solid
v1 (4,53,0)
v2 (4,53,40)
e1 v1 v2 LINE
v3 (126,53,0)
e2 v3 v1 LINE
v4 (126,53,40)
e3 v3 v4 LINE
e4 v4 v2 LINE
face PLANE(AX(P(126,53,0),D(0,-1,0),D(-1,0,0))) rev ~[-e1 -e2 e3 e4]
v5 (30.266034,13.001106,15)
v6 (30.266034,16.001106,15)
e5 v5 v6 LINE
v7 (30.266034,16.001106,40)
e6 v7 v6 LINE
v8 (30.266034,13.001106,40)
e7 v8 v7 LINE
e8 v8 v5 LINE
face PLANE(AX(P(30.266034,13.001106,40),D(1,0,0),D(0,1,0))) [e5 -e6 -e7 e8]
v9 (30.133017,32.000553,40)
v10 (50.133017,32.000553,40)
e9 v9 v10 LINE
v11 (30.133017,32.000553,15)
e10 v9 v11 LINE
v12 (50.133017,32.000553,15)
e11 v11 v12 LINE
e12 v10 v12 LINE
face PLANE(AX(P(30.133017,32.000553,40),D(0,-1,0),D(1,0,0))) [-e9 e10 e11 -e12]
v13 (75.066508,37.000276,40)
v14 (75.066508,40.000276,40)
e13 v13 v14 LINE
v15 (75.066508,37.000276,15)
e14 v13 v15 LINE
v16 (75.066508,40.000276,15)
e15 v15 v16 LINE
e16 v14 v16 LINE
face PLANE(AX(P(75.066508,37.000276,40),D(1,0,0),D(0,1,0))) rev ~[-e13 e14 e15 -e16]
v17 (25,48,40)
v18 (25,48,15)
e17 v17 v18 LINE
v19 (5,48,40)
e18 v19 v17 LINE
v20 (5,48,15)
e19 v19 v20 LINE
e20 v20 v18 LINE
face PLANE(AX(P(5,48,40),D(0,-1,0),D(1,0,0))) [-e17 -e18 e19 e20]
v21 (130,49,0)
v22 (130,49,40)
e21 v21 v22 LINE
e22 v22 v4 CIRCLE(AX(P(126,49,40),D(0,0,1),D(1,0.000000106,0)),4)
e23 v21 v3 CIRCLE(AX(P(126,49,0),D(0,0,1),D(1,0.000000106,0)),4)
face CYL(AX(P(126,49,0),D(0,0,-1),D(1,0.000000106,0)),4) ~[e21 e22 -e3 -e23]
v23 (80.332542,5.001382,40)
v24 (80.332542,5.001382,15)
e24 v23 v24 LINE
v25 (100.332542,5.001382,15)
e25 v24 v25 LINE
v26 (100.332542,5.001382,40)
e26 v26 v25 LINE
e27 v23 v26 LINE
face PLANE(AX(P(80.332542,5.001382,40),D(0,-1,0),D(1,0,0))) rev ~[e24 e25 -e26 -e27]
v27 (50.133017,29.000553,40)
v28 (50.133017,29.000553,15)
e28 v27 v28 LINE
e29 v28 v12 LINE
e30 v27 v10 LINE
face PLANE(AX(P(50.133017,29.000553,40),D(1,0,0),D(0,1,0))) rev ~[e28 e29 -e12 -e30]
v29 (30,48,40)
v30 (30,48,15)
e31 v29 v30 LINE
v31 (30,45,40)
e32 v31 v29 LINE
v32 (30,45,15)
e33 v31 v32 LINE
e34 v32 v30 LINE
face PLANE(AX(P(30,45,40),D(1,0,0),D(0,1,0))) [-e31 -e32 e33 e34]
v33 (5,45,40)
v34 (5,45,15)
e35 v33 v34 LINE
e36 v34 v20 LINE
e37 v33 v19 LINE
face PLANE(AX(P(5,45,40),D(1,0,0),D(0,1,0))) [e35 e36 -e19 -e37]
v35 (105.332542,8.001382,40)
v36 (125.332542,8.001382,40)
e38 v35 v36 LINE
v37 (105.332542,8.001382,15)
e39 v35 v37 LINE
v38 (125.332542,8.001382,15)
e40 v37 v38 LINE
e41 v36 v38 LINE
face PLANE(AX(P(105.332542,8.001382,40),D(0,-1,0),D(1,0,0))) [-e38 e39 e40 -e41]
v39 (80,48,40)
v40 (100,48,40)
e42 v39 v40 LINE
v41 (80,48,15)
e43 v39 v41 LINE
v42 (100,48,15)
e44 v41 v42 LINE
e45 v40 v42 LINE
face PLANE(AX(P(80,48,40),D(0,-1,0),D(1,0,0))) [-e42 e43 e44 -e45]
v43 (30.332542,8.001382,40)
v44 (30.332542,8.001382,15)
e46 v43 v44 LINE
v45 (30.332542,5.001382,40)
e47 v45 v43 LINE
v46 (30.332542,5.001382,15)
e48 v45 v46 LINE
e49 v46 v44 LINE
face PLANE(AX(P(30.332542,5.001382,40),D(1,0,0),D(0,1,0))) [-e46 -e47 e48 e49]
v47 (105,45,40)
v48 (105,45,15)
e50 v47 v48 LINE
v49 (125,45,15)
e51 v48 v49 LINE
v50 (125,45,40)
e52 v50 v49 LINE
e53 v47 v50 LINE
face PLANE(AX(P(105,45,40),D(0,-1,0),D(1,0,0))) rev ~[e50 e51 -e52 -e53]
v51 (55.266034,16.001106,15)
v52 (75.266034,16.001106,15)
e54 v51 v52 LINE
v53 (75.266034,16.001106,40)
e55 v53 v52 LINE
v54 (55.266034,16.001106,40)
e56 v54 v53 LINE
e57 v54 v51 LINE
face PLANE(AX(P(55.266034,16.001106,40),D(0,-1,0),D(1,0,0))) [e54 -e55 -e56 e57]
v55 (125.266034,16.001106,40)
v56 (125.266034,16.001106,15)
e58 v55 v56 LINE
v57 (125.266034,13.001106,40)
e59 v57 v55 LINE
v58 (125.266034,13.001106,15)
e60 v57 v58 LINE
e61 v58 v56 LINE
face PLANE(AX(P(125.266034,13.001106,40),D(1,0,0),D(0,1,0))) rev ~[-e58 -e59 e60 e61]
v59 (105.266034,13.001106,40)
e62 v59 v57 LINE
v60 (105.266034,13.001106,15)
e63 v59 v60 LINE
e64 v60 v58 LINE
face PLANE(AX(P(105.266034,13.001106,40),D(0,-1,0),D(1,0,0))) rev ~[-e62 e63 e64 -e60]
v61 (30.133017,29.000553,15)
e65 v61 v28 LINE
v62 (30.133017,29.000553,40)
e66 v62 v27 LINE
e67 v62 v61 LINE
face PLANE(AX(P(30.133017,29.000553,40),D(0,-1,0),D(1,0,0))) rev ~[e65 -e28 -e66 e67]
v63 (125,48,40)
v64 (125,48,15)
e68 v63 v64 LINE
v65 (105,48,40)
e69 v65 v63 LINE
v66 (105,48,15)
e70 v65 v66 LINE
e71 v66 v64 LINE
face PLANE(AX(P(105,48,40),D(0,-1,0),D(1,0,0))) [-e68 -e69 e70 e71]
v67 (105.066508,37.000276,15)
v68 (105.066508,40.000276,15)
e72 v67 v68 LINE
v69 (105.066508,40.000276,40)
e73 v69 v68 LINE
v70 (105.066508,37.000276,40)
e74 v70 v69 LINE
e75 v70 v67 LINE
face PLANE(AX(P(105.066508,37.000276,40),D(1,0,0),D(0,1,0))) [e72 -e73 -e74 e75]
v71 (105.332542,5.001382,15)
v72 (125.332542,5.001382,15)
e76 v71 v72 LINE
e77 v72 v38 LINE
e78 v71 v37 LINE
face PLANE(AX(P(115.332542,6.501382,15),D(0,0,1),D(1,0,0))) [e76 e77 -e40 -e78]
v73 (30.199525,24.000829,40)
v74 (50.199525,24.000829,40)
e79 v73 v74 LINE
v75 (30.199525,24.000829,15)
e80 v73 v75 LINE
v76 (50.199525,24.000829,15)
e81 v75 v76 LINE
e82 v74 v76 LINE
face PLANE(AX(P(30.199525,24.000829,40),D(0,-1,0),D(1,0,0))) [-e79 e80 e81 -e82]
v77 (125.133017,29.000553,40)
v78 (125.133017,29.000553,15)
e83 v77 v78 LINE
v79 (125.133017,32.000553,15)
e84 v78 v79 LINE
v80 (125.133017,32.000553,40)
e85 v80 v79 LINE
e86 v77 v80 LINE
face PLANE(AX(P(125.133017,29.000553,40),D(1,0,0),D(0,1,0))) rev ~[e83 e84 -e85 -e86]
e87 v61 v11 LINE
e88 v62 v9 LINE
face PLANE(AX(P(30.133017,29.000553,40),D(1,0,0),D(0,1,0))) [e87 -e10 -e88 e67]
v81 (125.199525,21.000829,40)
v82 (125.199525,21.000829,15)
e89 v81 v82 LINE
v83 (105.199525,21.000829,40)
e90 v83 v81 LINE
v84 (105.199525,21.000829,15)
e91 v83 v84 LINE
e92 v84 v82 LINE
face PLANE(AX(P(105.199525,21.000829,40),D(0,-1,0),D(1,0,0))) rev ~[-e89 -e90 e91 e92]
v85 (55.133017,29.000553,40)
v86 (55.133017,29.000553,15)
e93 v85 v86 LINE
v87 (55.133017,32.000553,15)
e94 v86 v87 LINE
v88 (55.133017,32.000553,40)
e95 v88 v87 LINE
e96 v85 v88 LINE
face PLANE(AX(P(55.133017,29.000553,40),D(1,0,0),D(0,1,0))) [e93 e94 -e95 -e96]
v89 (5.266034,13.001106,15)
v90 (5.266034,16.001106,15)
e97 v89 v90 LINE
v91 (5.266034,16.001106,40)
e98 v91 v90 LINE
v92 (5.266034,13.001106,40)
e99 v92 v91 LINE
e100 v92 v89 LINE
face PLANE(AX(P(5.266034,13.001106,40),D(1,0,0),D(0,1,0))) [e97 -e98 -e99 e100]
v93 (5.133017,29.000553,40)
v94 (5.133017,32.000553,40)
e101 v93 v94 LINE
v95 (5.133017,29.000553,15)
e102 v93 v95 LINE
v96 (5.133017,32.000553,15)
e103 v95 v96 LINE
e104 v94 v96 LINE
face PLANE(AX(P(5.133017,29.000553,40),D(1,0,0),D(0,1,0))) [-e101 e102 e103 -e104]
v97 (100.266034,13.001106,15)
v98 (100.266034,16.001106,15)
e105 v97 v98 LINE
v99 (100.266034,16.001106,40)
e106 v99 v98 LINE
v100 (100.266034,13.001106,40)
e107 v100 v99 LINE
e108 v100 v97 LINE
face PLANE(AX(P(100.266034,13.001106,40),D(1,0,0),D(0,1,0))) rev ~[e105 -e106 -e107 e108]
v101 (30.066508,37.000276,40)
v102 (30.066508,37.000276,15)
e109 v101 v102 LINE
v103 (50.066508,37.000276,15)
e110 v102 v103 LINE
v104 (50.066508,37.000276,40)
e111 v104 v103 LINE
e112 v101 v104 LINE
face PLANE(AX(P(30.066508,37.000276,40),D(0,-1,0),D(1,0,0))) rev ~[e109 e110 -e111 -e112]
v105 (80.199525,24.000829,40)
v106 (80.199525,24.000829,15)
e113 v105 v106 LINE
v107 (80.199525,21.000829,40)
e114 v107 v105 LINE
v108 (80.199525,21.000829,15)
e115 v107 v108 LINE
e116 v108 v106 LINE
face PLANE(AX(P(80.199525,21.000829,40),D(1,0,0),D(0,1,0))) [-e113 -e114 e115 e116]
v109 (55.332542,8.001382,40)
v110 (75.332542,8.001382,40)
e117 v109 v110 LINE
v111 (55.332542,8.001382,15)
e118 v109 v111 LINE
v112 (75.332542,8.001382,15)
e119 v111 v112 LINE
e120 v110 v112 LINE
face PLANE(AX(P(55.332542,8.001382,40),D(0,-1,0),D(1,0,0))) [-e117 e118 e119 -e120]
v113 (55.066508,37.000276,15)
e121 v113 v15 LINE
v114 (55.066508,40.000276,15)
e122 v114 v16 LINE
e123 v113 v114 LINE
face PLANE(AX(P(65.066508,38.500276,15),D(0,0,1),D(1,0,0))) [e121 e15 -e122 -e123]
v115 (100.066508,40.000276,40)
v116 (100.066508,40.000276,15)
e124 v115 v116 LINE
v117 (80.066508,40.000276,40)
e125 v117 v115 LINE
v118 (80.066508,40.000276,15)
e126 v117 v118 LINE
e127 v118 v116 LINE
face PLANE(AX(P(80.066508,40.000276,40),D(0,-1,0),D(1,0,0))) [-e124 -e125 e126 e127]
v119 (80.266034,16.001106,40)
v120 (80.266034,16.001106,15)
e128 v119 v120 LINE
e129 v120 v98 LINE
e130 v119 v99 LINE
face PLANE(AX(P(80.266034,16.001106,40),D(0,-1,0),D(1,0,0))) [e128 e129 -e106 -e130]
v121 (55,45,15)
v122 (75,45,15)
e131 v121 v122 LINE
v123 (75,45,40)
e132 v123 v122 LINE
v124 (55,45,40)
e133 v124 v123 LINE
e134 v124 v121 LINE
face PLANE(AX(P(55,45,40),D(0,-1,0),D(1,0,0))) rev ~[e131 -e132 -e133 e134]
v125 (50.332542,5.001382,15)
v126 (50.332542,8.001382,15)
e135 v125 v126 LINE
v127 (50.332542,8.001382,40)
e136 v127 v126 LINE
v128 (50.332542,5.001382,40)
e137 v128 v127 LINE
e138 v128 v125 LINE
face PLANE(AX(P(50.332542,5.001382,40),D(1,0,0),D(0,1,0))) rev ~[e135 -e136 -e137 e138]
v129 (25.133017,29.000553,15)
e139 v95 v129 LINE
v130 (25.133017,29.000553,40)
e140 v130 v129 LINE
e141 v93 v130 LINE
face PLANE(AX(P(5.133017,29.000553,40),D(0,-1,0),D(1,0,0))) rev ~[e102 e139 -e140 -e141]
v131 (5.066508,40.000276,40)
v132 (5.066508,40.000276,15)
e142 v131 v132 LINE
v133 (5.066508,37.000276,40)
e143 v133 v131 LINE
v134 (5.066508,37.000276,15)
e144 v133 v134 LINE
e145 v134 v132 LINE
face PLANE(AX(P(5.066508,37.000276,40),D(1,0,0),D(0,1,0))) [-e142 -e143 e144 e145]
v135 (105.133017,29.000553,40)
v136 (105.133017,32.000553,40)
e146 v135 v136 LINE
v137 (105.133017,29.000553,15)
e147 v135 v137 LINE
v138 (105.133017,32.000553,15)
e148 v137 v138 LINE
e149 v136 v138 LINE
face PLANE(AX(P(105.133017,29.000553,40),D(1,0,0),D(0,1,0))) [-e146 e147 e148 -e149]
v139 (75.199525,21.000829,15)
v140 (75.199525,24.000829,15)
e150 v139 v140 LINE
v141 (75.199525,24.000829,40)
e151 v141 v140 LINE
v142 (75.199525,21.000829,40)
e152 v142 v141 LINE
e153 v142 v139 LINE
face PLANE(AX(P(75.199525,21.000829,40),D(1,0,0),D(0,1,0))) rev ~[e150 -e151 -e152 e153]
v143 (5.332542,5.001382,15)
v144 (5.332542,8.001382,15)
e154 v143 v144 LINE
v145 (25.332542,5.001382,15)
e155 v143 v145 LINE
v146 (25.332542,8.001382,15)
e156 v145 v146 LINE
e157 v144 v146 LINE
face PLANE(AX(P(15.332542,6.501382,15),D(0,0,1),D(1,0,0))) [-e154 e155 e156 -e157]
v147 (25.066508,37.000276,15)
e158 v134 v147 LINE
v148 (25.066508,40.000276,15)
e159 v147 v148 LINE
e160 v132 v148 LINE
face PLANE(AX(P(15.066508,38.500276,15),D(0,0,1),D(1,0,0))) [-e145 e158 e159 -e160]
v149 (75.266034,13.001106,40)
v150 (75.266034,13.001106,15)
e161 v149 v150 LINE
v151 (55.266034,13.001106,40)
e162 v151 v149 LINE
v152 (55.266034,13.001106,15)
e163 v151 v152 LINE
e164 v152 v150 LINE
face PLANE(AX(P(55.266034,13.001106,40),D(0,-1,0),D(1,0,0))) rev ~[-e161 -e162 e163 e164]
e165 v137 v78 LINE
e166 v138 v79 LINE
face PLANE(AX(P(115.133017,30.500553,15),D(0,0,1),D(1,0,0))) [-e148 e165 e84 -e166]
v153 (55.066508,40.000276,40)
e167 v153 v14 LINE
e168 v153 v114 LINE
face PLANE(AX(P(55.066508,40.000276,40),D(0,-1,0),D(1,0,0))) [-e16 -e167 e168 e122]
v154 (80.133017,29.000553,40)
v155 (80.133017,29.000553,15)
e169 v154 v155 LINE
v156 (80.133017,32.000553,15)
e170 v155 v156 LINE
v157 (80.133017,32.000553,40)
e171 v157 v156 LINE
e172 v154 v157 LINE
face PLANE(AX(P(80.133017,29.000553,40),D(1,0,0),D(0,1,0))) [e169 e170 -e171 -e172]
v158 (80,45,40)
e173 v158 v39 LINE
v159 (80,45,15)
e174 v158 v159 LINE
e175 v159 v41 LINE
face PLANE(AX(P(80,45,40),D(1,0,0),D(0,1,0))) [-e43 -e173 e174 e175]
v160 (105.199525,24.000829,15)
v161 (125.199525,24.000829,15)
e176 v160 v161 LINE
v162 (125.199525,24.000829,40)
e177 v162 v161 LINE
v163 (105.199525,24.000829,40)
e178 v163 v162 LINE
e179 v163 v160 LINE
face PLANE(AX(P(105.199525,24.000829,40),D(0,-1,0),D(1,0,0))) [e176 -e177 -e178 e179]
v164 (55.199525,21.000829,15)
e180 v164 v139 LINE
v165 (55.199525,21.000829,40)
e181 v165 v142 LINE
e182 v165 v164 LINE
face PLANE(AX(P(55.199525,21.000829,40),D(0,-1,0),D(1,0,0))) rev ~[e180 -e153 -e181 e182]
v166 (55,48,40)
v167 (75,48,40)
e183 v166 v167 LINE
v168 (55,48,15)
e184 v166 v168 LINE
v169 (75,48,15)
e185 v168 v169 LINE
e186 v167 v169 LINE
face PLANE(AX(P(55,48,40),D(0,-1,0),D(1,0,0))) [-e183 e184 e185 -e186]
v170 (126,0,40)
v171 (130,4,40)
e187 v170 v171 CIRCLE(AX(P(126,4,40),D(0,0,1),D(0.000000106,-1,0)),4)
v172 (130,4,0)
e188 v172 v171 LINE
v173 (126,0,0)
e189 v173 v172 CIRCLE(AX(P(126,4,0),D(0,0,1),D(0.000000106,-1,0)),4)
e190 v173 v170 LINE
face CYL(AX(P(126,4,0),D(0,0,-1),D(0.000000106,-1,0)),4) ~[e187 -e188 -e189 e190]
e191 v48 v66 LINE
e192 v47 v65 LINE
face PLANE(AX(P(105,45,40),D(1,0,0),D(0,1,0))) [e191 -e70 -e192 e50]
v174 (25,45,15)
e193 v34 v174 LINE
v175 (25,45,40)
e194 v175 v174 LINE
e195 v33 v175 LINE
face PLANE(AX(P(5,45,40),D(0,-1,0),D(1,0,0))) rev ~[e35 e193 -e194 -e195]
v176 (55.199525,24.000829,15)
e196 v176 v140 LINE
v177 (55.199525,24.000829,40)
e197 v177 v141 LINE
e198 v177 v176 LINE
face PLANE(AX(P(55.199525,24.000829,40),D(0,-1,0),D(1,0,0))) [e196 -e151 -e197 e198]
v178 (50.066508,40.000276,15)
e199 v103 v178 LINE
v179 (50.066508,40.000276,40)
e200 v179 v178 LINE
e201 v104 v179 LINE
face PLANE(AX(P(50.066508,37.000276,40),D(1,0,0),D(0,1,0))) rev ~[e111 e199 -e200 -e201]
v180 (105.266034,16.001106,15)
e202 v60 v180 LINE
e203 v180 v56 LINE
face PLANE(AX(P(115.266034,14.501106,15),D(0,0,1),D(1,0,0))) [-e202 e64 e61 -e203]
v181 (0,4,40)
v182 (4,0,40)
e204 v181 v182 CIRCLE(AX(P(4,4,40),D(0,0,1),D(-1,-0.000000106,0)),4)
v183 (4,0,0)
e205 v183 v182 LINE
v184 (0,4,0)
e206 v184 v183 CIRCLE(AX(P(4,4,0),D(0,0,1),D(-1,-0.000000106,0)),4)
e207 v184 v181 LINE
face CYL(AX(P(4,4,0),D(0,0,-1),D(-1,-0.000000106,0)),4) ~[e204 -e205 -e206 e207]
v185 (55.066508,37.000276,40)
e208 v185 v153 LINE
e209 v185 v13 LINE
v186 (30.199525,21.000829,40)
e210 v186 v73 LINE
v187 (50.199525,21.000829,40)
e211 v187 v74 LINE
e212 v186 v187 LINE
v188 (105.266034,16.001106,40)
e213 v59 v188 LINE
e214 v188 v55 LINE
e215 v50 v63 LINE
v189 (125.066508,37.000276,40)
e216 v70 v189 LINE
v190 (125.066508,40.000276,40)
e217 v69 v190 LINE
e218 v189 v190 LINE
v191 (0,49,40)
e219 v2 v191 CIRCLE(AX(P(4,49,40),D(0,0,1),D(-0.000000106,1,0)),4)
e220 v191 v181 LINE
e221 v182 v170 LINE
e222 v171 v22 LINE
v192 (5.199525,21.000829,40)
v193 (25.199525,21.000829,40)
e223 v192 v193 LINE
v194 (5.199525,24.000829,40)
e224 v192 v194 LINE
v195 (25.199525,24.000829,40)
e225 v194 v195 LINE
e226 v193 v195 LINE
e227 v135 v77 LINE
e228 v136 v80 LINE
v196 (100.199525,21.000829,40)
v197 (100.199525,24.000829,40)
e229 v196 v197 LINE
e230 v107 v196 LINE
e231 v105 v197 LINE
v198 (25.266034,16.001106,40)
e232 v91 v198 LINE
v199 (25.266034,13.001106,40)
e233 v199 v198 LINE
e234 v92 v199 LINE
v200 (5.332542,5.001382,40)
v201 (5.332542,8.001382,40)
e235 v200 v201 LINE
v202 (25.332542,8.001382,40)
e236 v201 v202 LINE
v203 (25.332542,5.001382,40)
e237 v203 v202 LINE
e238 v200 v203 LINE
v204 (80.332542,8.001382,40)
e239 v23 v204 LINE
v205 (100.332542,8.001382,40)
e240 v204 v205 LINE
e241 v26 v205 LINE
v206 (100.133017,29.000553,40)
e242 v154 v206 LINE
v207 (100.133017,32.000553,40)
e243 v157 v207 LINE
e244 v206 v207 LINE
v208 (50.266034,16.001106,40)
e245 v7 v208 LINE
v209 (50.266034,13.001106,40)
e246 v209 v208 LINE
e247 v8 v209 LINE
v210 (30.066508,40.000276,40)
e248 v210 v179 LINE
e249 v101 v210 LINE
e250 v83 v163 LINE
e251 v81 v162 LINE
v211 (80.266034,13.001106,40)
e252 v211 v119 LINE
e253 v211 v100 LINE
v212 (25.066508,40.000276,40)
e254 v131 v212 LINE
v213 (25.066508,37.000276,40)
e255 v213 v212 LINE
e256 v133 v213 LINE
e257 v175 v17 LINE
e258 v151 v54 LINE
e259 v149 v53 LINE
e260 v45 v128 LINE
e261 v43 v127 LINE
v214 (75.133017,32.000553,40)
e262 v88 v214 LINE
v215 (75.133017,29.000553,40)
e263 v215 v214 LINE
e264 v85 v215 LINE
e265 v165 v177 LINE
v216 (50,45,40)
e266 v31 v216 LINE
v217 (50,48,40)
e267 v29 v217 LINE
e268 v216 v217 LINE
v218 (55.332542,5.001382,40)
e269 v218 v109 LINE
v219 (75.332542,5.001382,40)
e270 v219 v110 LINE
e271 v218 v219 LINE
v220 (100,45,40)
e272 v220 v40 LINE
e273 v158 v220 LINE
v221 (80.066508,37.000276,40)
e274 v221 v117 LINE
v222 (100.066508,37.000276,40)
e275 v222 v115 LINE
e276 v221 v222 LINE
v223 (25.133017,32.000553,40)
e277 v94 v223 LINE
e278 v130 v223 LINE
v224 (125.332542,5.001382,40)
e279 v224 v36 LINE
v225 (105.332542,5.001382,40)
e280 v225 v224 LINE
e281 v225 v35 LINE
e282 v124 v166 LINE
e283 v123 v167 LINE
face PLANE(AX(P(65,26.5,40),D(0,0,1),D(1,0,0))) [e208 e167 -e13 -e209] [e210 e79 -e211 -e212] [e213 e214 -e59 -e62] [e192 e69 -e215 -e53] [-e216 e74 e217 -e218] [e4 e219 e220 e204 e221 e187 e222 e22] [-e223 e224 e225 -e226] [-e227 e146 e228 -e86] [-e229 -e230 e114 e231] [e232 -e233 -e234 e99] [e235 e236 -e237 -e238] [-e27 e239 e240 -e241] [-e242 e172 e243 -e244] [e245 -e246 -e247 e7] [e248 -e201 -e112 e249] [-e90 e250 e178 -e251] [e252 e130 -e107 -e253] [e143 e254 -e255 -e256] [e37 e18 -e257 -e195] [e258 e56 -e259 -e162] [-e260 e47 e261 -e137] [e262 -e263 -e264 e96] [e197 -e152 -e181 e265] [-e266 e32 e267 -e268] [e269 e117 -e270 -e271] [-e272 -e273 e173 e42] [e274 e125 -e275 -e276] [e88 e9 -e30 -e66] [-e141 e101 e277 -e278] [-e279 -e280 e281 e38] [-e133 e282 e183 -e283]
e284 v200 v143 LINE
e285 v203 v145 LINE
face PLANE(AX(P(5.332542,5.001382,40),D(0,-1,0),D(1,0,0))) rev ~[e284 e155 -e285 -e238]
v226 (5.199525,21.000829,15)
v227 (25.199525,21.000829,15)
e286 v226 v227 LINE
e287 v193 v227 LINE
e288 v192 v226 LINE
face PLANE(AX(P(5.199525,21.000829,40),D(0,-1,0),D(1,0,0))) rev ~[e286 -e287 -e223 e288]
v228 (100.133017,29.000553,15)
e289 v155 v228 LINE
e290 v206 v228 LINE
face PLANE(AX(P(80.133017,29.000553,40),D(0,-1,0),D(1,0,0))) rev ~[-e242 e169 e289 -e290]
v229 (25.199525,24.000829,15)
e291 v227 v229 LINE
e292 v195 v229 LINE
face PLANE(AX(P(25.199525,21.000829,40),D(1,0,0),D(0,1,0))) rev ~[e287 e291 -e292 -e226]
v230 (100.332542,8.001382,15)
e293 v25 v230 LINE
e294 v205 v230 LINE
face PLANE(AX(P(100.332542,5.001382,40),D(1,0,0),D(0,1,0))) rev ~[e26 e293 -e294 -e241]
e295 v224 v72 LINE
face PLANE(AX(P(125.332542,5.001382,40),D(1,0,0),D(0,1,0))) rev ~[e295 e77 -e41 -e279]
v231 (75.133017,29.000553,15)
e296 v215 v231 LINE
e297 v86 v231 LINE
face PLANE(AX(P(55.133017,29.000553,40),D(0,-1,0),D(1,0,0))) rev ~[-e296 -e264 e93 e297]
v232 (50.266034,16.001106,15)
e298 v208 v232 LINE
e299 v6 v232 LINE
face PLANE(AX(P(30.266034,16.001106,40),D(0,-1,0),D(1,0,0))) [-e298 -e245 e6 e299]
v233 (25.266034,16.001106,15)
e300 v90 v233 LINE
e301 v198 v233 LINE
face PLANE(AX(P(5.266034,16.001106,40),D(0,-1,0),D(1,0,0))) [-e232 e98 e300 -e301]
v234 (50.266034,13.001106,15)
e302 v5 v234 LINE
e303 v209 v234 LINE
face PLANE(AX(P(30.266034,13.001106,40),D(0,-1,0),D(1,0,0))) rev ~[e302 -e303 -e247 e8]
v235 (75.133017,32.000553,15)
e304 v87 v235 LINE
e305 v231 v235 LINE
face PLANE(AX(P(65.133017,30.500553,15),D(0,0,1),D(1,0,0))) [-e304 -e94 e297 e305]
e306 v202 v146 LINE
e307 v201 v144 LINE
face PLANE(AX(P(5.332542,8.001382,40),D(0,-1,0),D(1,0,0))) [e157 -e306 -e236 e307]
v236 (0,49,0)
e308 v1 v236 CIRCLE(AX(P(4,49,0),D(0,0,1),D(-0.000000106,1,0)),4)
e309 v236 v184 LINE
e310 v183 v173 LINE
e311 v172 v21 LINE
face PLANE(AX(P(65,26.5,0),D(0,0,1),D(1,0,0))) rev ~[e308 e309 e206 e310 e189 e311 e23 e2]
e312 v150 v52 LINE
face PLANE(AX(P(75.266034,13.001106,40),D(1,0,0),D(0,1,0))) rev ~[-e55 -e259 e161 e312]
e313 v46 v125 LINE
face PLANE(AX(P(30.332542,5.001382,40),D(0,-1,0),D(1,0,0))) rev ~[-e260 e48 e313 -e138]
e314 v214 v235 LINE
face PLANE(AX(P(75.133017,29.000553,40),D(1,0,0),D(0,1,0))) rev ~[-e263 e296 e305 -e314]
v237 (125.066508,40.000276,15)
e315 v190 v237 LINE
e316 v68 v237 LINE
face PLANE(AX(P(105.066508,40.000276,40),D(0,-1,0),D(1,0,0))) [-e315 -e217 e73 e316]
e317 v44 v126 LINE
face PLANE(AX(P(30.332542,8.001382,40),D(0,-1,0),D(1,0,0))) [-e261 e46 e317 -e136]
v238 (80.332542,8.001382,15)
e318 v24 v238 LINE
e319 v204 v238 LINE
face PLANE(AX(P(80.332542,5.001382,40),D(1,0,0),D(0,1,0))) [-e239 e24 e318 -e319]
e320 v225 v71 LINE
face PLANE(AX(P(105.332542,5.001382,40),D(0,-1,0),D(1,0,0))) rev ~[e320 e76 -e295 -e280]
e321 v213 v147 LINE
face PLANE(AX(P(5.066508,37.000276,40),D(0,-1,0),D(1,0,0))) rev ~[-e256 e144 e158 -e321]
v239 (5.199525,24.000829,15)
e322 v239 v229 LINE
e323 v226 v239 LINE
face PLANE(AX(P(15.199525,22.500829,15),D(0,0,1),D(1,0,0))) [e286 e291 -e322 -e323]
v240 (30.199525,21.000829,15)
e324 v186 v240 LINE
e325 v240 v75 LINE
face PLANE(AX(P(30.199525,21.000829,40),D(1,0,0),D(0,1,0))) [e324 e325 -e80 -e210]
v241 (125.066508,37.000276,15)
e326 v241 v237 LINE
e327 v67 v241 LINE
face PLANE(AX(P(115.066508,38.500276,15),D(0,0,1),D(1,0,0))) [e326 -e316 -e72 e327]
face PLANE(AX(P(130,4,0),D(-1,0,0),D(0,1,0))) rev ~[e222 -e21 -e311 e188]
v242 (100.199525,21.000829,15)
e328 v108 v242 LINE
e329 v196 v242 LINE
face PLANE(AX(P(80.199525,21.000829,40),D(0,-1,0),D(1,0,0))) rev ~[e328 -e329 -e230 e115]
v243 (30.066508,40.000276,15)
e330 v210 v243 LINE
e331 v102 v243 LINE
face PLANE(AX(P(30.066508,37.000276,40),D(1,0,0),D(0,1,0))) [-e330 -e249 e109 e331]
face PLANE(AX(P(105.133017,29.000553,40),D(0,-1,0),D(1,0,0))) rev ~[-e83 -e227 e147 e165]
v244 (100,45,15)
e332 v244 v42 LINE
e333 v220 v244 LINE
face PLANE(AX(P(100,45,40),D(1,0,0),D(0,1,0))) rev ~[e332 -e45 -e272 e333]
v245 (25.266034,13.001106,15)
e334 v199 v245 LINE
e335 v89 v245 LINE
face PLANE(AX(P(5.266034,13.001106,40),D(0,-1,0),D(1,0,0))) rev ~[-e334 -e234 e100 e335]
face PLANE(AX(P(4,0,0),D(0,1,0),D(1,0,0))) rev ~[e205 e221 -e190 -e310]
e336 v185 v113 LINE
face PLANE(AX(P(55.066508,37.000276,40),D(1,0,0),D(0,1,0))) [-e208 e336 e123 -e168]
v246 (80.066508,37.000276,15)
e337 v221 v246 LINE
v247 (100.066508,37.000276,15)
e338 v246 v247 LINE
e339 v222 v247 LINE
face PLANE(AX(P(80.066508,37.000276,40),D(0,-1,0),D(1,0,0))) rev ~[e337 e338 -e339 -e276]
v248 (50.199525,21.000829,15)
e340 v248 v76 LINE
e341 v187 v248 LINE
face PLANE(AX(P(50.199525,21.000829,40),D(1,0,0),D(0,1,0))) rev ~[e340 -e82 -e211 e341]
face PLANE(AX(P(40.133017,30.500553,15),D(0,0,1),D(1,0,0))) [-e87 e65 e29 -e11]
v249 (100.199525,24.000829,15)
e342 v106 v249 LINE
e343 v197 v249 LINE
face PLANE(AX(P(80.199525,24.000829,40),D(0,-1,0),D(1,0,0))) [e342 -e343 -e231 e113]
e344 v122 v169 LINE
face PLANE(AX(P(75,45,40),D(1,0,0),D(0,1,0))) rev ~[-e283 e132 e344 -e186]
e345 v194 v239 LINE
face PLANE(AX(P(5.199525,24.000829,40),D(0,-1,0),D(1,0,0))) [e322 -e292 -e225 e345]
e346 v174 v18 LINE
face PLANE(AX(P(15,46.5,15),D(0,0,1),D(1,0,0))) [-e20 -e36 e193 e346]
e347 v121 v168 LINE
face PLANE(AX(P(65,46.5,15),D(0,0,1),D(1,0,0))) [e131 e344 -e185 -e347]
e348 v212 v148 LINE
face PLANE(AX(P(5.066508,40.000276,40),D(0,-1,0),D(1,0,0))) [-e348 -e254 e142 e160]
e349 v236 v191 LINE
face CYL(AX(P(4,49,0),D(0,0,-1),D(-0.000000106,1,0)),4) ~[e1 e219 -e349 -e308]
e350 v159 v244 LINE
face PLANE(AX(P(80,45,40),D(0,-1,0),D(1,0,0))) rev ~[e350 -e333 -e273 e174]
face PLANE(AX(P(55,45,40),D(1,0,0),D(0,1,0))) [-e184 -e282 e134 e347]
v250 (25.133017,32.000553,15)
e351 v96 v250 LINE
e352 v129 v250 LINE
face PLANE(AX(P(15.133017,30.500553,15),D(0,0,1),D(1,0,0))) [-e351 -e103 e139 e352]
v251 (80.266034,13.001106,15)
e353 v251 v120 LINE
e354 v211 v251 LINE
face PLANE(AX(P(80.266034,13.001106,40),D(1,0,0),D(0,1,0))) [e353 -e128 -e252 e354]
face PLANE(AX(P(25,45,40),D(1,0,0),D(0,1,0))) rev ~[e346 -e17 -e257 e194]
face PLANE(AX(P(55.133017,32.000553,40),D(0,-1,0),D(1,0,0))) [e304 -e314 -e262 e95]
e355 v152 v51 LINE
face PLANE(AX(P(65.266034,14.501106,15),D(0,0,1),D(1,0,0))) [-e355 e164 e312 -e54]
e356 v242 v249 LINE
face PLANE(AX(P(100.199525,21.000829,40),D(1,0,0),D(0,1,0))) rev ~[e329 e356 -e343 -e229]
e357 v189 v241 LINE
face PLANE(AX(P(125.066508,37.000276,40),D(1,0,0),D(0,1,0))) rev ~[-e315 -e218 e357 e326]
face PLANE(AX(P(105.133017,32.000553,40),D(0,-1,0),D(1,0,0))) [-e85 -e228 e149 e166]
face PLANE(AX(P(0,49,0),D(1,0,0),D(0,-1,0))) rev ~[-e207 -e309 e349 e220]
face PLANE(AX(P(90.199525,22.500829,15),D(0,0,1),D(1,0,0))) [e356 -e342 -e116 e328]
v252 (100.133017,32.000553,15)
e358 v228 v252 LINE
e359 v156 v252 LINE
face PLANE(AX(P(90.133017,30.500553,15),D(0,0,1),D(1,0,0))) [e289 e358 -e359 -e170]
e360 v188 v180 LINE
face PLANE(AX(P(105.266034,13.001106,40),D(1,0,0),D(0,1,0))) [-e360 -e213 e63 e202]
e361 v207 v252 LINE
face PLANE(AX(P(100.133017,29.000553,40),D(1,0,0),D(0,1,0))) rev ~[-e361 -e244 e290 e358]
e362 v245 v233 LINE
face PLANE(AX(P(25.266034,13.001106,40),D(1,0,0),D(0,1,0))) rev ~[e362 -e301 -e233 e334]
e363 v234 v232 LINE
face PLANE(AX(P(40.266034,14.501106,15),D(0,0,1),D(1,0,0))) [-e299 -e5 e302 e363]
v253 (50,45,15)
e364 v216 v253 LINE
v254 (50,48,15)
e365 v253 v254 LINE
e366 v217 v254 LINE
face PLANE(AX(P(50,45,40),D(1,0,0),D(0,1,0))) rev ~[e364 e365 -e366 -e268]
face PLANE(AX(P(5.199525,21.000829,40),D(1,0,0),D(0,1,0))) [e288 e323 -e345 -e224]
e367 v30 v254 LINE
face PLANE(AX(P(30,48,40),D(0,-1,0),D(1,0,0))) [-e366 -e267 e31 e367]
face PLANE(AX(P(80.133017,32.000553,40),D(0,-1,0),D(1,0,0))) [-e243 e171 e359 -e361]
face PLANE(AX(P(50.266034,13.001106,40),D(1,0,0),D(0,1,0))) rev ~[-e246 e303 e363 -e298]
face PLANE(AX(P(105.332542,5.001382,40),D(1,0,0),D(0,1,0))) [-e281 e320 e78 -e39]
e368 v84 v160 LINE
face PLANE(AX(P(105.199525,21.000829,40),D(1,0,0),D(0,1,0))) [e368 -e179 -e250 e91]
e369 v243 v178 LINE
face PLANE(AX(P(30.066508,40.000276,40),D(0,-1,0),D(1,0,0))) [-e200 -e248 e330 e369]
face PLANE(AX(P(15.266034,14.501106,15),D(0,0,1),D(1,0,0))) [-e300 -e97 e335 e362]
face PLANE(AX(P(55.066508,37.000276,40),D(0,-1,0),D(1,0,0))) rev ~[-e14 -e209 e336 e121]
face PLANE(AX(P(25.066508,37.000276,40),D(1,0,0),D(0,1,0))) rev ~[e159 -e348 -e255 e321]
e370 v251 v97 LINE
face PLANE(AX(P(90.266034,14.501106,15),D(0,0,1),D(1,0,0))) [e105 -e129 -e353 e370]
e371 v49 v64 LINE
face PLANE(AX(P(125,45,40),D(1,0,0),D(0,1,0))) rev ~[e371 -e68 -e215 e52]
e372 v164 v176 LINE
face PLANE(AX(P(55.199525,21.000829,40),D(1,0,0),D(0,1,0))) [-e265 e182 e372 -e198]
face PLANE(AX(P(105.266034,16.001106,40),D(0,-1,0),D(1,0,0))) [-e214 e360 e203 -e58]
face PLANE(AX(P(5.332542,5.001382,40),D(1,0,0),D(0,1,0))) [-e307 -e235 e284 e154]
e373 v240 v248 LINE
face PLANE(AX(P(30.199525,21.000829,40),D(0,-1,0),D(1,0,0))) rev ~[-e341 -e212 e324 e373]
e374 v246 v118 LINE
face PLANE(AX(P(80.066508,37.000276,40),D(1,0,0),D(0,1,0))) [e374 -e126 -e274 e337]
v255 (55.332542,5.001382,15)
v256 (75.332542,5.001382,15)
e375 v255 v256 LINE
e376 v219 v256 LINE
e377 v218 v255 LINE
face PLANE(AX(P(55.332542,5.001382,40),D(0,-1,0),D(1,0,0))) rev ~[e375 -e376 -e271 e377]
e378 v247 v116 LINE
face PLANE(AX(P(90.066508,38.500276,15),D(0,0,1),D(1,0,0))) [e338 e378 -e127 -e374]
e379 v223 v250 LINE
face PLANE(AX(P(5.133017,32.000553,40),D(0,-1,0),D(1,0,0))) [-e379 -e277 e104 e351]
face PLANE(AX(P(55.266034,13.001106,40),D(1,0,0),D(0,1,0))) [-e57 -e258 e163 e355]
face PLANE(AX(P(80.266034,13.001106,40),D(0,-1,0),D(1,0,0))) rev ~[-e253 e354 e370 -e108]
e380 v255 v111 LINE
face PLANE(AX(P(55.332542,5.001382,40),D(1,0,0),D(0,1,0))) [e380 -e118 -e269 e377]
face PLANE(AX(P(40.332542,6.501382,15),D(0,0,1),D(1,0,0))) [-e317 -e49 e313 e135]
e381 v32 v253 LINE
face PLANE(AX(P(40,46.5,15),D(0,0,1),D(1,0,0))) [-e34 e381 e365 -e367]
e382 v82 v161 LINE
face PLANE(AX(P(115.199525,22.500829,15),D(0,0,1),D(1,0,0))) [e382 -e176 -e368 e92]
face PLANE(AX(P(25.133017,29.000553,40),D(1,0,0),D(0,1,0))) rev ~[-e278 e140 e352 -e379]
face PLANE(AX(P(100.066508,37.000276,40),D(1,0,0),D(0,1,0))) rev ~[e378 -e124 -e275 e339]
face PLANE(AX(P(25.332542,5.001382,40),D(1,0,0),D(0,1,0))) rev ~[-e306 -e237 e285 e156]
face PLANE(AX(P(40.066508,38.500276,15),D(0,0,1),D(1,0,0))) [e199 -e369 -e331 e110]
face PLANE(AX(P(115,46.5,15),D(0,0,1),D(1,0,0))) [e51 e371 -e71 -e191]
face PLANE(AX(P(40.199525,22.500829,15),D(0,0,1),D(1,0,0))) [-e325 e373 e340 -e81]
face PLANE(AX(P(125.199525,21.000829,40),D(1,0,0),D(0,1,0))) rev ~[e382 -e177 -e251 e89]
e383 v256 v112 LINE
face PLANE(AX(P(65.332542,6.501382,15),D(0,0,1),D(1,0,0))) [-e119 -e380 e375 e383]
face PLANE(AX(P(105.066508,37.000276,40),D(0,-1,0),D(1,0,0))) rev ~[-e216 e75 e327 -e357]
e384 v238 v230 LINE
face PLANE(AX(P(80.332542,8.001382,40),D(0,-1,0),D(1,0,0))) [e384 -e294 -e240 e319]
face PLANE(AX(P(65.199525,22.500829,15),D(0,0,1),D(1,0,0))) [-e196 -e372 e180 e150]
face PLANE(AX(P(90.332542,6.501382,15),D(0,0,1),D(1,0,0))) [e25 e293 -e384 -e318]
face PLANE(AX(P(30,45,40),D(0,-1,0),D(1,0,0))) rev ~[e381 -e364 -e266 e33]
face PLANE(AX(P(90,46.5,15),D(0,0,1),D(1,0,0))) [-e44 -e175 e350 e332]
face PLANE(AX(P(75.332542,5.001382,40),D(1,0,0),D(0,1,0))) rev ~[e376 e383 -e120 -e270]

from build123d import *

# Parameters (mm, degrees)
F1_DEPTH = 40
F2_W     = 20
F2_H     = 3
F3_DEPTH = 25


with BuildPart() as f1:
    # F0 (on Top) → F1 (new body)
    with BuildSketch(Plane.XY):
        with BuildLine():
            ThreePointArc((0, 4), (1.171573, 1.171573), (4, 0))
            Line((4, 0), (126, 0))
            ThreePointArc((126, 0), (128.828427, 1.171573), (130, 4))
            Line((130, 4), (130, 49))
            ThreePointArc((130, 49), (128.828427, 51.828427), (126, 53))
            Line((126, 53), (4, 53))
            ThreePointArc((4, 53), (1.171573, 51.828427), (0, 49))
            Line((0, 49), (0, 4))
        make_face()
    extrude(amount=F1_DEPTH)

    # F2 (on face) → F3 (cut)
    with BuildSketch(Plane.XY.offset(40)):
        with Locations((15, 46.5)):
            Rectangle(F2_W, F2_H)
        with Locations((15.066508, 38.500276)):
            Rectangle(F2_W, F2_H)
        with Locations((15.133017, 30.500553)):
            Rectangle(F2_W, F2_H)
        with Locations((15.199525, 22.500829)):
            Rectangle(F2_W, F2_H)
        with Locations((15.266034, 14.501106)):
            Rectangle(F2_W, F2_H)
        with Locations((15.332542, 6.501382)):
            Rectangle(F2_W, F2_H)
        with Locations((40, 46.5)):
            Rectangle(F2_W, F2_H)
        with Locations((40.066508, 38.500276)):
            Rectangle(F2_W, F2_H)
        with Locations((40.133017, 30.500553)):
            Rectangle(F2_W, F2_H)
        with Locations((40.199525, 22.500829)):
            Rectangle(F2_W, F2_H)
        with Locations((40.266034, 14.501106)):
            Rectangle(F2_W, F2_H)
        with Locations((40.332542, 6.501382)):
            Rectangle(F2_W, F2_H)
        with Locations((65, 46.5)):
            Rectangle(F2_W, F2_H)
        with Locations((65.066508, 38.500276)):
            Rectangle(F2_W, F2_H)
        with Locations((65.133017, 30.500553)):
            Rectangle(F2_W, F2_H)
        with Locations((65.199525, 22.500829)):
            Rectangle(F2_W, F2_H)
        with Locations((65.266034, 14.501106)):
            Rectangle(F2_W, F2_H)
        with Locations((65.332542, 6.501382)):
            Rectangle(F2_W, F2_H)
        with Locations((90, 46.5)):
            Rectangle(F2_W, F2_H)
        with Locations((90.066508, 38.500276)):
            Rectangle(F2_W, F2_H)
        with Locations((90.133017, 30.500553)):
            Rectangle(F2_W, F2_H)
        with Locations((90.199525, 22.500829)):
            Rectangle(F2_W, F2_H)
        with Locations((90.266034, 14.501106)):
            Rectangle(F2_W, F2_H)
        with Locations((90.332542, 6.501382)):
            Rectangle(F2_W, F2_H)
        with Locations((115, 46.5)):
            Rectangle(F2_W, F2_H)
        with Locations((115.066508, 38.500276)):
            Rectangle(F2_W, F2_H)
        with Locations((115.133017, 30.500553)):
            Rectangle(F2_W, F2_H)
        with Locations((115.199525, 22.500829)):
            Rectangle(F2_W, F2_H)
        with Locations((115.266034, 14.501106)):
            Rectangle(F2_W, F2_H)
        with Locations((115.332542, 6.501382)):
            Rectangle(F2_W, F2_H)
    extrude(amount=-F3_DEPTH, mode=Mode.SUBTRACT)


solid = f1.part
